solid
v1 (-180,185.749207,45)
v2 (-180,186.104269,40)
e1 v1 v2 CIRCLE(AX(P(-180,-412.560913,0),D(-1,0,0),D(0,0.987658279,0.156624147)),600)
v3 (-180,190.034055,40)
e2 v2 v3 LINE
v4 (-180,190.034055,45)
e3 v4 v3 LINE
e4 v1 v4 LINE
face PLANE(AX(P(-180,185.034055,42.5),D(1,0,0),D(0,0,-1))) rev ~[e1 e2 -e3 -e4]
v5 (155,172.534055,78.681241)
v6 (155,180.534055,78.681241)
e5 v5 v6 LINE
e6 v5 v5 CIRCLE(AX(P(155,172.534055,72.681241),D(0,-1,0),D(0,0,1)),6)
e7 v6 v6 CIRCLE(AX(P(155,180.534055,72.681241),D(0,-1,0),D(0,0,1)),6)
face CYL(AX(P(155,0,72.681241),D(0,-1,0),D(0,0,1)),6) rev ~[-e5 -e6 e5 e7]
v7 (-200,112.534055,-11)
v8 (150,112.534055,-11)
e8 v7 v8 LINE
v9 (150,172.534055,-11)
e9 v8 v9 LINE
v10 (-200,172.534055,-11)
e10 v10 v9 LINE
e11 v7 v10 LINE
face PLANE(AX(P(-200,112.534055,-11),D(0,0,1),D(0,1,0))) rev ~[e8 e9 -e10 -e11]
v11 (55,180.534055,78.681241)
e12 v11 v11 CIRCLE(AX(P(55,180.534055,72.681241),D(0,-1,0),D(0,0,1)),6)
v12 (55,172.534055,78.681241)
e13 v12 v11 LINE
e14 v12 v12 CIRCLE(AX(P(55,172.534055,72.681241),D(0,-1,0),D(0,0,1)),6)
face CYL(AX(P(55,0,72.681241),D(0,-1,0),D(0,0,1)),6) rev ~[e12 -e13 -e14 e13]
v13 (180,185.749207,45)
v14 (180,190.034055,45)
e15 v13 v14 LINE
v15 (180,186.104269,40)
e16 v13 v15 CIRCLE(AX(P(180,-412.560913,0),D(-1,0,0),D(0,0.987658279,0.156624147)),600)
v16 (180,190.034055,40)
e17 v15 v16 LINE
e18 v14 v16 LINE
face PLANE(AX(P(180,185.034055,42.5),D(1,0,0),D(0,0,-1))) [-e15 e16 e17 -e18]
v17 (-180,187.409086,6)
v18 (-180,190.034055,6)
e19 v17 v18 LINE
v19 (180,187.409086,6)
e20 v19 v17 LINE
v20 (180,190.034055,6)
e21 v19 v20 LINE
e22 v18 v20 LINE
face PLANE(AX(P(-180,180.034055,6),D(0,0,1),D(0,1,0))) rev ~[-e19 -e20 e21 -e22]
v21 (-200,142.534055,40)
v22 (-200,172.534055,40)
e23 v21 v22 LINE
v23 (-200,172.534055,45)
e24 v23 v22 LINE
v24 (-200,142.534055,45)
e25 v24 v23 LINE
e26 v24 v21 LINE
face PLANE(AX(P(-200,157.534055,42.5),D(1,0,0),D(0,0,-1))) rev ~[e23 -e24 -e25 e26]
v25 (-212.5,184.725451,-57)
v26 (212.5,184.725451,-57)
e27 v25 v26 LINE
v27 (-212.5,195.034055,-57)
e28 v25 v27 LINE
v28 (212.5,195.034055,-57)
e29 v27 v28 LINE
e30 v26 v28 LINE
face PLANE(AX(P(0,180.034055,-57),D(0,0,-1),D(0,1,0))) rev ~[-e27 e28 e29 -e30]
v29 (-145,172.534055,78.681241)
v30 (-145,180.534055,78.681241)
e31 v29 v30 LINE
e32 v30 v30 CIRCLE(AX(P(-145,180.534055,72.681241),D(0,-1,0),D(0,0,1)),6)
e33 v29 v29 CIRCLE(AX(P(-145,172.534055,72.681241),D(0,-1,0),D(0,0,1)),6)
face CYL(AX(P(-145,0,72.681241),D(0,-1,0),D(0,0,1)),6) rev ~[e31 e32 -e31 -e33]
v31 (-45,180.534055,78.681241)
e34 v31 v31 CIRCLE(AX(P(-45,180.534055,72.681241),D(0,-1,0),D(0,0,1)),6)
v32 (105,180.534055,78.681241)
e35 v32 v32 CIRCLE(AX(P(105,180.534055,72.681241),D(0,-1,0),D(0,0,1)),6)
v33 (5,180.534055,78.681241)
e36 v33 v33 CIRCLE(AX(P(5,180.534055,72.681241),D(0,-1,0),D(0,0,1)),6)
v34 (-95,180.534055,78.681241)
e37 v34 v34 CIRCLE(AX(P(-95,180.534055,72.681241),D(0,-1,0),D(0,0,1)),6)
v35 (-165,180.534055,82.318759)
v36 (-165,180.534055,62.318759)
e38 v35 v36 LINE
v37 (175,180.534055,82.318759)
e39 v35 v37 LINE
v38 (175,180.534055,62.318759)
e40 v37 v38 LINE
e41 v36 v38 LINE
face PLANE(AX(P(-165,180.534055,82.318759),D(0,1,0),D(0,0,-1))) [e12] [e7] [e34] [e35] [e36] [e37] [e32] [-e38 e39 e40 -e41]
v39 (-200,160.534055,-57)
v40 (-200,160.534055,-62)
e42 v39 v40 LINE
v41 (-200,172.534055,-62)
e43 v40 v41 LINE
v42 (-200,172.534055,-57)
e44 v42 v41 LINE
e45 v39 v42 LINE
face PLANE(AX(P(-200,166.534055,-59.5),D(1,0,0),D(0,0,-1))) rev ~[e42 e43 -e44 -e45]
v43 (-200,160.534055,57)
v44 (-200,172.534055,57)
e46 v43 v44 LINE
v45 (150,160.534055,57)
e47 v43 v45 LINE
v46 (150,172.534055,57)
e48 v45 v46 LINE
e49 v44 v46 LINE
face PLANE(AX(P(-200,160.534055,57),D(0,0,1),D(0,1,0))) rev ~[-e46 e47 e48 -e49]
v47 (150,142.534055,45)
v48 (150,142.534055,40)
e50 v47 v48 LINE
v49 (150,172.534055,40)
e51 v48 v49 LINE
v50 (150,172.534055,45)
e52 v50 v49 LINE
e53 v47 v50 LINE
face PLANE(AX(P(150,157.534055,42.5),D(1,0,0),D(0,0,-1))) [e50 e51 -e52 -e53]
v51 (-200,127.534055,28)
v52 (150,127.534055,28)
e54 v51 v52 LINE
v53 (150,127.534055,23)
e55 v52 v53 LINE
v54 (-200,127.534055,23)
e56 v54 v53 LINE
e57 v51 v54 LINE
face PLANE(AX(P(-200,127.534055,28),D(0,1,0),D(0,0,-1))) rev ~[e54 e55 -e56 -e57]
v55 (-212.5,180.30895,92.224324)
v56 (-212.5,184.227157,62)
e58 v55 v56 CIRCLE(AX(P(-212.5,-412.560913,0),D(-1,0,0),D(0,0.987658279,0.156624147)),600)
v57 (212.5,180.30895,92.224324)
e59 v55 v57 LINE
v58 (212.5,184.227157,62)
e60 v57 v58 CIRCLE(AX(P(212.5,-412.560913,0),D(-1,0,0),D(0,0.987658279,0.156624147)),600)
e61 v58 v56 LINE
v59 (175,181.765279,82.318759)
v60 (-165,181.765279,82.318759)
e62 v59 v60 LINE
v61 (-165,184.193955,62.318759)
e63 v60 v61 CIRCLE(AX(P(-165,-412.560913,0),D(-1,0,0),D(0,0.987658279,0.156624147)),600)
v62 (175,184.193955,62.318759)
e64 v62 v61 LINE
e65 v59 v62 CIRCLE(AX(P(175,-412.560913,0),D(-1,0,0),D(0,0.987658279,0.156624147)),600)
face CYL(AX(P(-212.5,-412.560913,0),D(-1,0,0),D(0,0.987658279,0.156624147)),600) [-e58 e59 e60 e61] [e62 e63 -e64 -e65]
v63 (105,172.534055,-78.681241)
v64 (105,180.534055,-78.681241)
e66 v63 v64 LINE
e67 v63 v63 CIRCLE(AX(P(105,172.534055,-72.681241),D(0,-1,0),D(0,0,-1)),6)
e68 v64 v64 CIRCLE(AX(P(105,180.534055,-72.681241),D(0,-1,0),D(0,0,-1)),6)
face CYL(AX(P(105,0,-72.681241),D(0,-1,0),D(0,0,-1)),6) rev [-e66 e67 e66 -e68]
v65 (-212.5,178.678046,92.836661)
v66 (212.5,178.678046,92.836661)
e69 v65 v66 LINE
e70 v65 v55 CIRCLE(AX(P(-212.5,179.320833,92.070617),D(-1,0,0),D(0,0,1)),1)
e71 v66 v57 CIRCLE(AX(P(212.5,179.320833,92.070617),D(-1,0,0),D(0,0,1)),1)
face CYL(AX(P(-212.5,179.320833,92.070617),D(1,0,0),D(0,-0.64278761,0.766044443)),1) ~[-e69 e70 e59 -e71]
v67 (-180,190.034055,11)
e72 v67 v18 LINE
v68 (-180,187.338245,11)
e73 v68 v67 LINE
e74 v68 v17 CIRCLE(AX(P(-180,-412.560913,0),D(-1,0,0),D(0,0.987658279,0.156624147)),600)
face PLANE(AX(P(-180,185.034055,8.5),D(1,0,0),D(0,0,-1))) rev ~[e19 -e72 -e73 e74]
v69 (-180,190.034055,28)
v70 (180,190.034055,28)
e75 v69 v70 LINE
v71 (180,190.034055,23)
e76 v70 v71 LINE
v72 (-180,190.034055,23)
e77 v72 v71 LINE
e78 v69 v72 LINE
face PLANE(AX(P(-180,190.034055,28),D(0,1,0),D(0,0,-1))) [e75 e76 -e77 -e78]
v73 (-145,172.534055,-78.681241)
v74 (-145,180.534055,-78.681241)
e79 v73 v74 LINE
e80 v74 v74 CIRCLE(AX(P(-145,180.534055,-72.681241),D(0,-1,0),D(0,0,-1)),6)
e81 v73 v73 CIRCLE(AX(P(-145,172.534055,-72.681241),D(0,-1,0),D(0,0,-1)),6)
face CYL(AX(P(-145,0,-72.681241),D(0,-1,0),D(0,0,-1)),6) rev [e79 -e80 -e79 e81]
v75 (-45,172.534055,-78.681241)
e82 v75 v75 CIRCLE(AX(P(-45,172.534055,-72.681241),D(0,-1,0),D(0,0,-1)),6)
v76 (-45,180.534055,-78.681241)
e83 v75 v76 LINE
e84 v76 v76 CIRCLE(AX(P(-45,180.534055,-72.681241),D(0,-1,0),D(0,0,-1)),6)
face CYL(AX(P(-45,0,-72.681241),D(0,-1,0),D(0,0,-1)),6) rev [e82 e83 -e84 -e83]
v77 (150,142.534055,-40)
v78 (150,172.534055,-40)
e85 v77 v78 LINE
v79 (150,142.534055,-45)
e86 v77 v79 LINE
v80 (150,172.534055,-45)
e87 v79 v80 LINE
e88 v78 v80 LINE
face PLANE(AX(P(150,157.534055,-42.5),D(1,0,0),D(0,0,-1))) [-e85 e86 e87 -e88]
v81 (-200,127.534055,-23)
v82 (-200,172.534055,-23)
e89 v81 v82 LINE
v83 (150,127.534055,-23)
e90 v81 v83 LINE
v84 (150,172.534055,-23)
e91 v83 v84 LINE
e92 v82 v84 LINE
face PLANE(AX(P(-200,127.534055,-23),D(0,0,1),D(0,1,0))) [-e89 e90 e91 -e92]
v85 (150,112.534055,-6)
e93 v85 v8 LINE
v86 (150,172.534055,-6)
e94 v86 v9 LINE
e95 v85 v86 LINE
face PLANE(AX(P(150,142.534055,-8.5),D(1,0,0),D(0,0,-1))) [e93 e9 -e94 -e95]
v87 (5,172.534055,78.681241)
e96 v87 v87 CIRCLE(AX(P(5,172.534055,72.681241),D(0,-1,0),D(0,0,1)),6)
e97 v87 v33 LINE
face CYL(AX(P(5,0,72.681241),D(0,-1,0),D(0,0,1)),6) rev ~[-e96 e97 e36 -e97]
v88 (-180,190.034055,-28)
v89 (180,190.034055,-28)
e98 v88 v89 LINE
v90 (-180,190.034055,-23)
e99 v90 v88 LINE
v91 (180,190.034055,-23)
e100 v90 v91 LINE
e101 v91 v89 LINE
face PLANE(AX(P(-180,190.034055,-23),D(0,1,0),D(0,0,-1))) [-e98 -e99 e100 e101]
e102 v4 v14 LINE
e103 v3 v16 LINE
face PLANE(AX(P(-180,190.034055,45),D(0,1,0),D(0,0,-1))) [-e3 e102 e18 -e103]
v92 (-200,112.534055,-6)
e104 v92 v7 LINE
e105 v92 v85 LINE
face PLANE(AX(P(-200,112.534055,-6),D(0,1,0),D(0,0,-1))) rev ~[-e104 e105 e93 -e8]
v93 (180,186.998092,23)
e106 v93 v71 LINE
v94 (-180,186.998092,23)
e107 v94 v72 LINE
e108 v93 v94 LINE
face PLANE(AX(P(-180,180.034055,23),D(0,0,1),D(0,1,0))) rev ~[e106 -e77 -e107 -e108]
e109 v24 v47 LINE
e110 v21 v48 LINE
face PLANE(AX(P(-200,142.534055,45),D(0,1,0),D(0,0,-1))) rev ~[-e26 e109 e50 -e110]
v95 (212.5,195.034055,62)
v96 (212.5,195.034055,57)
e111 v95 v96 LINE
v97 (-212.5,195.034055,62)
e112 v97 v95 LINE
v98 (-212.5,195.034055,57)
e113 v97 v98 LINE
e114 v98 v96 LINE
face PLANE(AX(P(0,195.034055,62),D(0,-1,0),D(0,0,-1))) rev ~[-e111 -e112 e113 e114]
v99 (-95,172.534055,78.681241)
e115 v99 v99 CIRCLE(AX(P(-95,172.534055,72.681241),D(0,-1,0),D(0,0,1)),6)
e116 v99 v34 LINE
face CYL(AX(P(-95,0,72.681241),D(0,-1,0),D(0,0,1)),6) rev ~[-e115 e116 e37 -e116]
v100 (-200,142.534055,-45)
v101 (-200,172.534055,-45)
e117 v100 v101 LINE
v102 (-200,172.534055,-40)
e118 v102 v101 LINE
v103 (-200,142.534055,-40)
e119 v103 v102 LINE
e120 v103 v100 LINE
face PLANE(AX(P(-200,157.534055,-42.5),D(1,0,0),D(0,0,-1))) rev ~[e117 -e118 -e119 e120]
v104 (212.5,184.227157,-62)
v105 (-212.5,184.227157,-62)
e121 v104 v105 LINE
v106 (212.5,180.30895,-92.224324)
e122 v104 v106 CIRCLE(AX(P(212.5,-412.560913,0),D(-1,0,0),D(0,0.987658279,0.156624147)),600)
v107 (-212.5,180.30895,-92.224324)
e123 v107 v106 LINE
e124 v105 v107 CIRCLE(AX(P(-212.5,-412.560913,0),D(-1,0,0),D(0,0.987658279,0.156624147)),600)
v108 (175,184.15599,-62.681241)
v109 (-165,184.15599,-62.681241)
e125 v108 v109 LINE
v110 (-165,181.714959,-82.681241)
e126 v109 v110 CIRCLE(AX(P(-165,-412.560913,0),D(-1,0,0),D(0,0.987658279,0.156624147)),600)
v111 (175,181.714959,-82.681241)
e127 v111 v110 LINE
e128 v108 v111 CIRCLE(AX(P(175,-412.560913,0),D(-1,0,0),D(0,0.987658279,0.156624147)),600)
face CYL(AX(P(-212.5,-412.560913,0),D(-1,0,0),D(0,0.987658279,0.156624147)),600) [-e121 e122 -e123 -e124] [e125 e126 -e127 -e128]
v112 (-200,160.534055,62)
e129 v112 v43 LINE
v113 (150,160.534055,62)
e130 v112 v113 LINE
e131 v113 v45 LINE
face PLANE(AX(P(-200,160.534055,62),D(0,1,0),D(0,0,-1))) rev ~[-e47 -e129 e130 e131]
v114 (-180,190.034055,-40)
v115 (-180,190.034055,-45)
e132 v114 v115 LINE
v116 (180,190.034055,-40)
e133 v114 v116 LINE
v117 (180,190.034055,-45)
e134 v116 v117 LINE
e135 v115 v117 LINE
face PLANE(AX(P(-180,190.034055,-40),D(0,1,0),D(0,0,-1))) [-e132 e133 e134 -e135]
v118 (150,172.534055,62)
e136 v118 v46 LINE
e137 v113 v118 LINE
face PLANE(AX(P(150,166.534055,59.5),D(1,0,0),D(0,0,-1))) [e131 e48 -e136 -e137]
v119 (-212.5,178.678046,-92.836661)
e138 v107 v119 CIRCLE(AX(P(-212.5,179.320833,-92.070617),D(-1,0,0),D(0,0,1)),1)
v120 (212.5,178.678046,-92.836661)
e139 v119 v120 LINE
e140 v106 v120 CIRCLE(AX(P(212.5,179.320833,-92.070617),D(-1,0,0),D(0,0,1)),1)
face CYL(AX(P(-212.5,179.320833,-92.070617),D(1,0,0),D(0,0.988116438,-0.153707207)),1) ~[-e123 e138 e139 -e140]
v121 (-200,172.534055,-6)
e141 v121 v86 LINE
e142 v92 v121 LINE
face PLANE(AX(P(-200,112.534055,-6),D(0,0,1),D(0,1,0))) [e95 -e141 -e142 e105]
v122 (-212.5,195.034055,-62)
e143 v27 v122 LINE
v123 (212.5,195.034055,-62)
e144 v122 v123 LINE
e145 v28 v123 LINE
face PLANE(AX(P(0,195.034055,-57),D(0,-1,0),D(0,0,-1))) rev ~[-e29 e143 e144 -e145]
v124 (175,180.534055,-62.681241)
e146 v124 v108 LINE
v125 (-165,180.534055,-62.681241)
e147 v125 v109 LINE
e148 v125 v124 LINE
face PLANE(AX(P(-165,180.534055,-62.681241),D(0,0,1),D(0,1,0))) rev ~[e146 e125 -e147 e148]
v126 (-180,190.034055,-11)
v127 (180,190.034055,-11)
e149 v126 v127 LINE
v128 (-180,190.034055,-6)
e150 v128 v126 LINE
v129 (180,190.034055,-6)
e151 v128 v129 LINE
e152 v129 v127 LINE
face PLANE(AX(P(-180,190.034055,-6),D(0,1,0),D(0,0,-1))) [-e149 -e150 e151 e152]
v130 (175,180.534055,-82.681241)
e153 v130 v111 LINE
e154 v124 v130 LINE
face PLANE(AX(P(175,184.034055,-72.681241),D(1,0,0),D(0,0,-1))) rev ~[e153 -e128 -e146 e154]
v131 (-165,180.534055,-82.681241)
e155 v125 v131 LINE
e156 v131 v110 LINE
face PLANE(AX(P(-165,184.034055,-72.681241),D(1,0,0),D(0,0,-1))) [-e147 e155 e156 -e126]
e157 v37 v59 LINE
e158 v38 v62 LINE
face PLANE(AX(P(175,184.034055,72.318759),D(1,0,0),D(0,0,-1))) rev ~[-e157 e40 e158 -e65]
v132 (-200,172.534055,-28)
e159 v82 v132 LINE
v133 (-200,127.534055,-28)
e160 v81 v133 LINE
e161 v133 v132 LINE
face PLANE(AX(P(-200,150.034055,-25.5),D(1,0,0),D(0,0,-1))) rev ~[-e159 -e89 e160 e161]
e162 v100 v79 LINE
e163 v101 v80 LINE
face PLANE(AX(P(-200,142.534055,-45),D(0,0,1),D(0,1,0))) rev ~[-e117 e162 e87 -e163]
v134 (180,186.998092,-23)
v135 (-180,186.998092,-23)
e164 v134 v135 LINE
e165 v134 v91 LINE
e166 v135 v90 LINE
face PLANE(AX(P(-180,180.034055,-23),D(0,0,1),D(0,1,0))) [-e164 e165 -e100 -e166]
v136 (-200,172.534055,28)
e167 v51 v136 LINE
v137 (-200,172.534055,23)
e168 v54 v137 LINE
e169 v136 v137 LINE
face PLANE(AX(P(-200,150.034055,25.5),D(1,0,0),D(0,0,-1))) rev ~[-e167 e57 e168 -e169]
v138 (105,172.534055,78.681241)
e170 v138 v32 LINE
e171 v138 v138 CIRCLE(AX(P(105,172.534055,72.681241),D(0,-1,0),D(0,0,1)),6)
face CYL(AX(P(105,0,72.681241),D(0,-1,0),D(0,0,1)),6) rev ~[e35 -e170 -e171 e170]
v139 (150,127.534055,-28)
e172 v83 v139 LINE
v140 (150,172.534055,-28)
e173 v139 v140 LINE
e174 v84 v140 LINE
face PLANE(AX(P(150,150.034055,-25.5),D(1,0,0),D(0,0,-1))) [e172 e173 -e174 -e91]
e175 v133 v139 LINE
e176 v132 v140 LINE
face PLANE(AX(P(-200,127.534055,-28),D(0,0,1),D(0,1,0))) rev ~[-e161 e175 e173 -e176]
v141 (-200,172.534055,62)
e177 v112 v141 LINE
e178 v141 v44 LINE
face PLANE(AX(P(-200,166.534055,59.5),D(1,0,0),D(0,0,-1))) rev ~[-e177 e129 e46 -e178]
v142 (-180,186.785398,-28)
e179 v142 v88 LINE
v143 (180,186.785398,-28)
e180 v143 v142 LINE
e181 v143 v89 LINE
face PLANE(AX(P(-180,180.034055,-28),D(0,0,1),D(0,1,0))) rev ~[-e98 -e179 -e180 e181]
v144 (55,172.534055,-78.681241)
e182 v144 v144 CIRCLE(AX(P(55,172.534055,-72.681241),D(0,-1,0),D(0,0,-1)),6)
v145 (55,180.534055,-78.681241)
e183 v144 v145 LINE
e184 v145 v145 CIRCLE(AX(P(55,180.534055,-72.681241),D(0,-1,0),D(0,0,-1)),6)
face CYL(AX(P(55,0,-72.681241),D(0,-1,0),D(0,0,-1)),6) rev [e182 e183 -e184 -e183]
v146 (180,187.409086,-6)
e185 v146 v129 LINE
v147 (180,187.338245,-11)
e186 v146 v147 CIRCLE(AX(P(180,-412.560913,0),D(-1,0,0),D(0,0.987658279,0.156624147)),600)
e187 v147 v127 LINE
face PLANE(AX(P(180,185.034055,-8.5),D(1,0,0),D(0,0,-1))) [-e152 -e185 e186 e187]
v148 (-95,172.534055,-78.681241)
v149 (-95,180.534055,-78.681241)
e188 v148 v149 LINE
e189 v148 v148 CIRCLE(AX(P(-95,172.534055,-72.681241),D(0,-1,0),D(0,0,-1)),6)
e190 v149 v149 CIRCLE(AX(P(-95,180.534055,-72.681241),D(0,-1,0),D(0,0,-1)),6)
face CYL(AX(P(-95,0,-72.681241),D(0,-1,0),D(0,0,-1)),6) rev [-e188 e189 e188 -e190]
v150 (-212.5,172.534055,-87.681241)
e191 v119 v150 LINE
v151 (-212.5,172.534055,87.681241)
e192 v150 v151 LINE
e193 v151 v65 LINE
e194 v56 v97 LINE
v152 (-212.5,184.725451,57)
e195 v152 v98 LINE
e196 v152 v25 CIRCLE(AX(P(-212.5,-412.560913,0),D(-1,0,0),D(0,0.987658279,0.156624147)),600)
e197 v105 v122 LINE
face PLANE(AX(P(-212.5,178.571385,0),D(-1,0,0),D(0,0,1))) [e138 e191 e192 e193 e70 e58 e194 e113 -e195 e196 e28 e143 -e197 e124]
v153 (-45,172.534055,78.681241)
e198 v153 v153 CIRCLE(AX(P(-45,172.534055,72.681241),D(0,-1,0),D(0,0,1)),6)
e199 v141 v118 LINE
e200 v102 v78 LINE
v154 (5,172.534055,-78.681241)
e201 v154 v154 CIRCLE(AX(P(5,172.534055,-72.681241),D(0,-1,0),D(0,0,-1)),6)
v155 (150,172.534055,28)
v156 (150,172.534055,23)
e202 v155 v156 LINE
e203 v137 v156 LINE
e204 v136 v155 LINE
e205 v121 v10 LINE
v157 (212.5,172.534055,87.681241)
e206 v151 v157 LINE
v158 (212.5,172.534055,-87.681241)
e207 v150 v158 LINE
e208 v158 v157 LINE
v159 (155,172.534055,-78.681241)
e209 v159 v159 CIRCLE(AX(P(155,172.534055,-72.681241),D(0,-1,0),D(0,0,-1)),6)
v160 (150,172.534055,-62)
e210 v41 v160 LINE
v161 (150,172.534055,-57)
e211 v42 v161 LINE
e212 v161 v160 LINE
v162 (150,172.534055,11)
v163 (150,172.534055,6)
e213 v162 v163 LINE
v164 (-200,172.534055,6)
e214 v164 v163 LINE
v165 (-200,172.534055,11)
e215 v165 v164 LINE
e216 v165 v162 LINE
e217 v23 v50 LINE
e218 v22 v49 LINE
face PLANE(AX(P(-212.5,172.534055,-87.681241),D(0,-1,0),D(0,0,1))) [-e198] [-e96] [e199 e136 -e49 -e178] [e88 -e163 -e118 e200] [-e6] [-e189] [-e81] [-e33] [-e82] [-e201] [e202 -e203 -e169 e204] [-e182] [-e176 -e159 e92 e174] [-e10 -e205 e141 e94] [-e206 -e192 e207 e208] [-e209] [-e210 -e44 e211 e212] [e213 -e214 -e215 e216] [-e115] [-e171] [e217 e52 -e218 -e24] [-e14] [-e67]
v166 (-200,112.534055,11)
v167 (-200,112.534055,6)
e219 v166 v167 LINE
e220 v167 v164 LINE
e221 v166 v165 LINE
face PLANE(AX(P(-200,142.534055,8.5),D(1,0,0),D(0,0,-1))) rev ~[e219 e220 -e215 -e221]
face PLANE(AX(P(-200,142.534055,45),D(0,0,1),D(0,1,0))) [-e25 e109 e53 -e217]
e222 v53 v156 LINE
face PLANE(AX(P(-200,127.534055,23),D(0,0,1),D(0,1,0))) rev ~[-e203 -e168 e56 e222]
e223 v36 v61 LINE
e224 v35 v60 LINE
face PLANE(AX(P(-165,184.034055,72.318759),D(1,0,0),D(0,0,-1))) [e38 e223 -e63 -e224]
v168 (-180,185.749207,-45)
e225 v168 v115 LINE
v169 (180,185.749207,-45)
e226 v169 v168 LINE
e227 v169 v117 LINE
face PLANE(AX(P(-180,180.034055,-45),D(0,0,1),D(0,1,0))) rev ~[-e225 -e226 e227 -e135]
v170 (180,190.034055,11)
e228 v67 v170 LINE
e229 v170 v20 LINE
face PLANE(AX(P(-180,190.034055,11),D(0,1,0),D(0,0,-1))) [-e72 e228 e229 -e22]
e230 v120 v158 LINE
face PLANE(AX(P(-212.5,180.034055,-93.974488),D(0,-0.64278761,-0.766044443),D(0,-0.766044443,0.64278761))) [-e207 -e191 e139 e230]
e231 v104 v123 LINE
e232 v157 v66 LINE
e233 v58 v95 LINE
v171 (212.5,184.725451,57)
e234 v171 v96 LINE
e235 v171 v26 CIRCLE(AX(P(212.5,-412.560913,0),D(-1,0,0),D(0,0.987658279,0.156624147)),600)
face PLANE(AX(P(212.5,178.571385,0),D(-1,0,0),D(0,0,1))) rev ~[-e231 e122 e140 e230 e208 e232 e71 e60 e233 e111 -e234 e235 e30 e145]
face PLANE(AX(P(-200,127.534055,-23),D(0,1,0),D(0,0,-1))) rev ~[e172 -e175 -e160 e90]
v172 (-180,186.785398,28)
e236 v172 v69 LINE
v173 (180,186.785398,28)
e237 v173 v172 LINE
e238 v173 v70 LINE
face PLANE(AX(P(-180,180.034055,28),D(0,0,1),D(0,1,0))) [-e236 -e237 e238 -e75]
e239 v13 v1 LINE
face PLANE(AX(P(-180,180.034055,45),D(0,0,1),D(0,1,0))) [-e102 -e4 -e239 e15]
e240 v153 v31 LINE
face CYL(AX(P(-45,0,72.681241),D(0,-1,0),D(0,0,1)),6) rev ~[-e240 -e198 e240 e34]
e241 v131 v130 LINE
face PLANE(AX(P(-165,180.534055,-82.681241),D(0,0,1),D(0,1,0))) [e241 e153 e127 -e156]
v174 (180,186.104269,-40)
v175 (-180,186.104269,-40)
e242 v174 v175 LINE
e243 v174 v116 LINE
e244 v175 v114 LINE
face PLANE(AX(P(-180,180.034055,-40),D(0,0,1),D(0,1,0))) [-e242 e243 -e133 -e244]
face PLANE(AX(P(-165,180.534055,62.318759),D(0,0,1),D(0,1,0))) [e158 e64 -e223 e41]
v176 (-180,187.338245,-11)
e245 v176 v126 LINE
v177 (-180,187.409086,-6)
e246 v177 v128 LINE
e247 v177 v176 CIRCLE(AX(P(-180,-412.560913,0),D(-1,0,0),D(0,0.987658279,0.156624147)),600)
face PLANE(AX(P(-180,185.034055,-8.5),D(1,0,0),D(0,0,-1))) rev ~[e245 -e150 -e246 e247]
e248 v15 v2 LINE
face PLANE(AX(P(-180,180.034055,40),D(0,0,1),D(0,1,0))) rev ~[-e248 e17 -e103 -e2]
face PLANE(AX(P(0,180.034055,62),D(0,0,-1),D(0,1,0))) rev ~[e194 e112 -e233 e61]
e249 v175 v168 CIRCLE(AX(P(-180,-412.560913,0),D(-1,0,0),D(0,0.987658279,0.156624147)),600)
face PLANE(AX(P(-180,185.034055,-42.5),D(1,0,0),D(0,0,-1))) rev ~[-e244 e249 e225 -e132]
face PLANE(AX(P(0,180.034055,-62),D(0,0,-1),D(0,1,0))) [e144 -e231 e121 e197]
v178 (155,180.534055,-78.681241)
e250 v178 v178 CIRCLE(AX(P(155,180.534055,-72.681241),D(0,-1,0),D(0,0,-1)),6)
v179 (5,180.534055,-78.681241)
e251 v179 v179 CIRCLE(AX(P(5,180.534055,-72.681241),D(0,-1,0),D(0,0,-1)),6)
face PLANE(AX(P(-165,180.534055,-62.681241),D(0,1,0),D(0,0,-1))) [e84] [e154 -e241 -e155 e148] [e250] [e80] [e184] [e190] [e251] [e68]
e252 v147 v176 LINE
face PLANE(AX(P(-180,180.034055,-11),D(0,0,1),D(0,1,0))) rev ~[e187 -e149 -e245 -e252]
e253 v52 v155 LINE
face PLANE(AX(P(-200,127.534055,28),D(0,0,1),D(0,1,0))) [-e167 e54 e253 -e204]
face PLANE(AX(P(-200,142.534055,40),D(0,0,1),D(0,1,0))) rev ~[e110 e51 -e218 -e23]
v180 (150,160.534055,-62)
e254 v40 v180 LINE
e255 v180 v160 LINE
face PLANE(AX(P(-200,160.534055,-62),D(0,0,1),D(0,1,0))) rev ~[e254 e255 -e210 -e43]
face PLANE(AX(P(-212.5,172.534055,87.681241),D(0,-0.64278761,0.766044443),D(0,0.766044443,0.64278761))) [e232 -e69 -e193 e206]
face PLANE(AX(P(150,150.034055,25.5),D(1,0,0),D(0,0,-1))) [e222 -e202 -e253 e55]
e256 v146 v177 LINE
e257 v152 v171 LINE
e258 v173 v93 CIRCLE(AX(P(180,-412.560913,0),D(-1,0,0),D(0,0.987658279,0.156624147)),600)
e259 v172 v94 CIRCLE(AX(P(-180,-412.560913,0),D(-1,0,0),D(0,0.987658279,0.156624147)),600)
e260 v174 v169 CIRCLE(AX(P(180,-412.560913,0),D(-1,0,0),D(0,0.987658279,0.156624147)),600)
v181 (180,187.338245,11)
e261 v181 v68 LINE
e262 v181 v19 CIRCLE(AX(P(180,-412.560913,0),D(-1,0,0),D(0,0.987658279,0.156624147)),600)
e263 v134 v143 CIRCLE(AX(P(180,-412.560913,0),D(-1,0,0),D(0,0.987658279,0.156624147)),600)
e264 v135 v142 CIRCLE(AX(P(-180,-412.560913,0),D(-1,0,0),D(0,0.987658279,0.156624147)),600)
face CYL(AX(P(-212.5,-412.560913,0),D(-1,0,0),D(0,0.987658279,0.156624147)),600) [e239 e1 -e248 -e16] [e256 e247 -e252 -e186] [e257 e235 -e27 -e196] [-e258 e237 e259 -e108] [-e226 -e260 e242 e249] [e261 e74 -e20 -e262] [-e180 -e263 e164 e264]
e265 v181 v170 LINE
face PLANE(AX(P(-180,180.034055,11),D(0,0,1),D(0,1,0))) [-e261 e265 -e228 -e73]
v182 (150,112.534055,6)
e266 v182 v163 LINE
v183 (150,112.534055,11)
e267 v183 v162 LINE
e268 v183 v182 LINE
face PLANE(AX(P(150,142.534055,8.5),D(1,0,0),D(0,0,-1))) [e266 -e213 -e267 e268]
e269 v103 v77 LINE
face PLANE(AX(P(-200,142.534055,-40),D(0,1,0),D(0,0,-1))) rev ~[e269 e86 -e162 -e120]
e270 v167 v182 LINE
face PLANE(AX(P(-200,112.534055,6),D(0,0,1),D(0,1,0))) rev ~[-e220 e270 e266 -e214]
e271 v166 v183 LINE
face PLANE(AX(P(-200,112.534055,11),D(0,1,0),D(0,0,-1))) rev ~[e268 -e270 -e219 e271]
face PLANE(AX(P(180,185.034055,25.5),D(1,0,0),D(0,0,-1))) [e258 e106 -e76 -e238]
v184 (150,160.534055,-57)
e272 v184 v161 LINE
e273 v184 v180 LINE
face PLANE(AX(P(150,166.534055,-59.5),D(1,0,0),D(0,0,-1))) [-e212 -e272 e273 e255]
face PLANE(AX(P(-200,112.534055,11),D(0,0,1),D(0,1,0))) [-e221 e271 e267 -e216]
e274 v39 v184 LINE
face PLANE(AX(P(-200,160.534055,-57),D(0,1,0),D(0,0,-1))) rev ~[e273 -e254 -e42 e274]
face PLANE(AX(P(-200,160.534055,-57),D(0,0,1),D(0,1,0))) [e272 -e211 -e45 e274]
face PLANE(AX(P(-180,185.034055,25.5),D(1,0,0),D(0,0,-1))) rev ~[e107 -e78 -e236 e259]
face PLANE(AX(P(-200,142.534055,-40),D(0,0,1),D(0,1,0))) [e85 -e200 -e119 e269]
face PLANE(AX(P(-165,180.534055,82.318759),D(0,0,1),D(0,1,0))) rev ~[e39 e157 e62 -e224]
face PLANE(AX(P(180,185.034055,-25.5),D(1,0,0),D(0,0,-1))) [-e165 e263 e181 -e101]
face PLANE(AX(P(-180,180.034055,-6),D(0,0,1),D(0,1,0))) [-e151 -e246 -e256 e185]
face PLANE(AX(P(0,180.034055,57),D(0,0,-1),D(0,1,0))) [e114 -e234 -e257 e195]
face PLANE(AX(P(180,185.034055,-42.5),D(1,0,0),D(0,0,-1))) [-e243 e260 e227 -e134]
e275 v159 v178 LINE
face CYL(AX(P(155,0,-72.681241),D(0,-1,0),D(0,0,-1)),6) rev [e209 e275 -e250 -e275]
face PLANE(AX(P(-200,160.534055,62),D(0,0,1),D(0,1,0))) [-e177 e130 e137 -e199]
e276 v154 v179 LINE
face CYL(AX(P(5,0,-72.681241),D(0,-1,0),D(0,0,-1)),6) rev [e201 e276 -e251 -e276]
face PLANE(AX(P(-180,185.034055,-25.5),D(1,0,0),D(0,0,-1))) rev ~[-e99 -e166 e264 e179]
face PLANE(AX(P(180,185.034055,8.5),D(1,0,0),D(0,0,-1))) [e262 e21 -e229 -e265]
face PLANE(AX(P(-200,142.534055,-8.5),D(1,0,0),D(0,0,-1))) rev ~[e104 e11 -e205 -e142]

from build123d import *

# Parameters (mm, degrees)
BOSS_EXTRUDE1_DEPTH             = 212.5
BOSS_EXTRUDE1_DEPTH_BACK        = 212.5
SKETCH3_R                       = 6
CUT_EXTRUDE1_DEPTH              = 299.531180557
FILLET1_R                       = 1
BOSS_EXTRUDE2_DEPTH             = 150
BOSS_EXTRUDE2_DEPTH_BACK        = 200
SKETCH4_W                       = 5
SKETCH4_H                       = 12
SKETCH4_H_2                     = 30
SKETCH4_H_3                     = 45
SKETCH4_H_4                     = 60
BOSS_EXTRUDE3_REACH             = 300.248
SKETCH5_W                       = 5
SKETCH5_H                       = 15
BOSS_EXTRUDE3_DIRECTION_2_REACH = 300.248
BOSS_EXTRUDE4_DEPTH             = 180
BOSS_EXTRUDE4_DEPTH_BACK        = 180
SKETCH6_W                       = 5
SKETCH6_H                       = 10
CUT_EXTRUDE2_DEPTH              = 175
CUT_EXTRUDE2_DEPTH_BACK         = 165
SKETCH7_W                       = 20
SKETCH7_H                       = 7


with BuildPart() as part:
    # Sketch2 → Boss-Extrude1 (new, two sides: drawn at the far end of the back side and taken through both)
    with BuildSketch(Plane(origin=(0, 0, 0), x_dir=(0, 0, -1), z_dir=(1, 0, 0)).offset(-BOSS_EXTRUDE1_DEPTH_BACK)):
        with BuildLine():
            Line((-87.681240867, 172.53405461), (-93.974488101, 180.03405461))
            ThreePointArc((-93.974488101, 180.03405461), (0, 187.439087042), (93.974488101, 180.03405461))
            Line((93.974488101, 180.03405461), (87.681240867, 172.53405461))
            Line((87.681240867, 172.53405461), (-87.681240867, 172.53405461))
        make_face()
    extrude(amount=BOSS_EXTRUDE1_DEPTH + BOSS_EXTRUDE1_DEPTH_BACK)

    # Sketch3 → Cut-Extrude1 (cut, through all)
    with BuildSketch(Plane(origin=(0, 0, 0), x_dir=(1, 0, 0), z_dir=(0, 1, 0))):
        with Locations((-145, 72.681240867)):
            Circle(SKETCH3_R)
        with Locations((-95, 72.681240867)):
            Circle(SKETCH3_R)
        with Locations((-45, 72.681240867)):
            Circle(SKETCH3_R)
        with Locations((5, 72.681240867)):
            Circle(SKETCH3_R)
        with Locations((55, 72.681240867)):
            Circle(SKETCH3_R)
        with Locations((105, 72.681240867)):
            Circle(SKETCH3_R)
        with Locations((155, 72.681240867)):
            Circle(SKETCH3_R)
    cut_extrude1 = extrude(amount=CUT_EXTRUDE1_DEPTH, mode=Mode.SUBTRACT)

    # Mirror1: Cut-Extrude1 across plane
    add(cut_extrude1.mirror(Plane.XY), mode=Mode.SUBTRACT)

    # Fillet1
    fillet1_edges = [part.edges().sort_by_distance(p)[0] for p in [
        (0, 180.03405461, -93.974488101),
        (0, 180.03405461, 93.974488101),
    ]]
    fillet(fillet1_edges, radius=FILLET1_R)

    # Sketch4 → Boss-Extrude2 (add, two sides: drawn at the far end of the back side and taken through both)
    with BuildSketch(Plane(origin=(0, 0, 0), x_dir=(0, 0, -1), z_dir=(1, 0, 0)).offset(-BOSS_EXTRUDE2_DEPTH_BACK)):
        with Locations((-59.5, 166.53405461)):
            Rectangle(SKETCH4_W, SKETCH4_H)
        with Locations((-42.5, 157.53405461)):
            Rectangle(SKETCH4_W, SKETCH4_H_2)
        with Locations((-25.5, 150.03405461)):
            Rectangle(SKETCH4_W, SKETCH4_H_3)
        with Locations((-8.5, 142.53405461)):
            Rectangle(SKETCH4_W, SKETCH4_H_4)
        with Locations((8.5, 142.53405461)):
            Rectangle(SKETCH4_W, SKETCH4_H_4)
        with Locations((25.5, 150.03405461)):
            Rectangle(SKETCH4_W, SKETCH4_H_3)
        with Locations((59.5, 166.53405461)):
            Rectangle(SKETCH4_W, SKETCH4_H)
        with Locations((42.5, 157.53405461)):
            Rectangle(SKETCH4_W, SKETCH4_H_2)
    extrude(amount=BOSS_EXTRUDE2_DEPTH + BOSS_EXTRUDE2_DEPTH_BACK)

    # Boss-Extrude3: up to this face of the body (flat: up to its plane)
    boss_extrude3_end = Plane(part.part.faces().sort_by_distance((212.5, 179.031198014, 0))[0])
    # Sketch5 → Boss-Extrude3 (add, up to the picked face)
    with BuildSketch(Plane(origin=(0, 0, 0), x_dir=(0, 0, -1), z_dir=(1, 0, 0)), mode=Mode.PRIVATE) as boss_extrude3_sk1:
        with Locations((-59.5, 187.53405461)):
            Rectangle(SKETCH5_W, SKETCH5_H)
    boss_extrude3_tool1 = split(extrude(boss_extrude3_sk1.sketch, amount=BOSS_EXTRUDE3_REACH, mode=Mode.PRIVATE), bisect_by=boss_extrude3_end, keep=Keep.BOTH, mode=Mode.PRIVATE)
    # Sketch5 → Boss-Extrude3 (add, up to the picked face)
    with BuildSketch(Plane(origin=(0, 0, 0), x_dir=(0, 0, -1), z_dir=(1, 0, 0)), mode=Mode.PRIVATE) as boss_extrude3_sk2:
        with Locations((59.5, 187.53405461)):
            Rectangle(SKETCH5_W, SKETCH5_H)
    boss_extrude3_tool2 = split(extrude(boss_extrude3_sk2.sketch, amount=BOSS_EXTRUDE3_REACH, mode=Mode.PRIVATE), bisect_by=boss_extrude3_end, keep=Keep.BOTH, mode=Mode.PRIVATE)
    add(boss_extrude3_tool1.solids().sort_by(Axis((0, 187.534055, 59.5), (1, 0, 0)))[0])
    add(boss_extrude3_tool2.solids().sort_by(Axis((0, 187.534055, -59.5), (1, 0, 0)))[0])

    # Boss-Extrude3 direction 2: up to this face of the body (flat: up to its plane)
    boss_extrude3_direction_2_end = Plane(part.part.faces().sort_by_distance((-212.5, 179.031198014, 0))[0])
    # Sketch5 → Boss-Extrude3 direction 2 (add, up to the picked face)
    with BuildSketch(Plane(origin=(0, 0, 0), x_dir=(0, 0, -1), z_dir=(1, 0, 0)), mode=Mode.PRIVATE) as boss_extrude3_direction_2_sk1:
        with Locations((-59.5, 187.53405461)):
            Rectangle(SKETCH5_W, SKETCH5_H)
    boss_extrude3_direction_2_tool1 = split(extrude(boss_extrude3_direction_2_sk1.sketch, amount=-BOSS_EXTRUDE3_DIRECTION_2_REACH, mode=Mode.PRIVATE), bisect_by=boss_extrude3_direction_2_end, keep=Keep.BOTH, mode=Mode.PRIVATE)
    # Sketch5 → Boss-Extrude3 direction 2 (add, up to the picked face)
    with BuildSketch(Plane(origin=(0, 0, 0), x_dir=(0, 0, -1), z_dir=(1, 0, 0)), mode=Mode.PRIVATE) as boss_extrude3_direction_2_sk2:
        with Locations((59.5, 187.53405461)):
            Rectangle(SKETCH5_W, SKETCH5_H)
    boss_extrude3_direction_2_tool2 = split(extrude(boss_extrude3_direction_2_sk2.sketch, amount=-BOSS_EXTRUDE3_DIRECTION_2_REACH, mode=Mode.PRIVATE), bisect_by=boss_extrude3_direction_2_end, keep=Keep.BOTH, mode=Mode.PRIVATE)
    add(boss_extrude3_direction_2_tool1.solids().sort_by(Axis((0, 187.534055, 59.5), (-1, 0, 0)))[0])
    add(boss_extrude3_direction_2_tool2.solids().sort_by(Axis((0, 187.534055, -59.5), (-1, 0, 0)))[0])

    # Sketch6 → Boss-Extrude4 (add, two sides: drawn at the far end of the back side and taken through both)
    with BuildSketch(Plane(origin=(0, 0, 0), x_dir=(0, 0, -1), z_dir=(1, 0, 0)).offset(-BOSS_EXTRUDE4_DEPTH_BACK)):
        with Locations((-42.5, 185.03405461)):
            Rectangle(SKETCH6_W, SKETCH6_H)
        with Locations((-25.5, 185.03405461)):
            Rectangle(SKETCH6_W, SKETCH6_H)
        with Locations((-8.5, 185.03405461)):
            Rectangle(SKETCH6_W, SKETCH6_H)
        with Locations((8.5, 185.03405461)):
            Rectangle(SKETCH6_W, SKETCH6_H)
        with Locations((25.5, 185.03405461)):
            Rectangle(SKETCH6_W, SKETCH6_H)
        with Locations((42.5, 185.03405461)):
            Rectangle(SKETCH6_W, SKETCH6_H)
    extrude(amount=BOSS_EXTRUDE4_DEPTH + BOSS_EXTRUDE4_DEPTH_BACK)

    # Sketch7 → Cut-Extrude2 (cut, two sides: drawn at the far end of the back side and taken through both)
    with BuildSketch(Plane(origin=(0, 0, 0), x_dir=(0, 0, -1), z_dir=(1, 0, 0)).offset(-CUT_EXTRUDE2_DEPTH_BACK)):
        with Locations((-72.318759133, 184.03405461)):
            Rectangle(SKETCH7_W, SKETCH7_H)
        with Locations((72.681240867, 184.03405461)):
            Rectangle(SKETCH7_W, SKETCH7_H)
    extrude(amount=CUT_EXTRUDE2_DEPTH + CUT_EXTRUDE2_DEPTH_BACK, mode=Mode.SUBTRACT)


solid = part.part
